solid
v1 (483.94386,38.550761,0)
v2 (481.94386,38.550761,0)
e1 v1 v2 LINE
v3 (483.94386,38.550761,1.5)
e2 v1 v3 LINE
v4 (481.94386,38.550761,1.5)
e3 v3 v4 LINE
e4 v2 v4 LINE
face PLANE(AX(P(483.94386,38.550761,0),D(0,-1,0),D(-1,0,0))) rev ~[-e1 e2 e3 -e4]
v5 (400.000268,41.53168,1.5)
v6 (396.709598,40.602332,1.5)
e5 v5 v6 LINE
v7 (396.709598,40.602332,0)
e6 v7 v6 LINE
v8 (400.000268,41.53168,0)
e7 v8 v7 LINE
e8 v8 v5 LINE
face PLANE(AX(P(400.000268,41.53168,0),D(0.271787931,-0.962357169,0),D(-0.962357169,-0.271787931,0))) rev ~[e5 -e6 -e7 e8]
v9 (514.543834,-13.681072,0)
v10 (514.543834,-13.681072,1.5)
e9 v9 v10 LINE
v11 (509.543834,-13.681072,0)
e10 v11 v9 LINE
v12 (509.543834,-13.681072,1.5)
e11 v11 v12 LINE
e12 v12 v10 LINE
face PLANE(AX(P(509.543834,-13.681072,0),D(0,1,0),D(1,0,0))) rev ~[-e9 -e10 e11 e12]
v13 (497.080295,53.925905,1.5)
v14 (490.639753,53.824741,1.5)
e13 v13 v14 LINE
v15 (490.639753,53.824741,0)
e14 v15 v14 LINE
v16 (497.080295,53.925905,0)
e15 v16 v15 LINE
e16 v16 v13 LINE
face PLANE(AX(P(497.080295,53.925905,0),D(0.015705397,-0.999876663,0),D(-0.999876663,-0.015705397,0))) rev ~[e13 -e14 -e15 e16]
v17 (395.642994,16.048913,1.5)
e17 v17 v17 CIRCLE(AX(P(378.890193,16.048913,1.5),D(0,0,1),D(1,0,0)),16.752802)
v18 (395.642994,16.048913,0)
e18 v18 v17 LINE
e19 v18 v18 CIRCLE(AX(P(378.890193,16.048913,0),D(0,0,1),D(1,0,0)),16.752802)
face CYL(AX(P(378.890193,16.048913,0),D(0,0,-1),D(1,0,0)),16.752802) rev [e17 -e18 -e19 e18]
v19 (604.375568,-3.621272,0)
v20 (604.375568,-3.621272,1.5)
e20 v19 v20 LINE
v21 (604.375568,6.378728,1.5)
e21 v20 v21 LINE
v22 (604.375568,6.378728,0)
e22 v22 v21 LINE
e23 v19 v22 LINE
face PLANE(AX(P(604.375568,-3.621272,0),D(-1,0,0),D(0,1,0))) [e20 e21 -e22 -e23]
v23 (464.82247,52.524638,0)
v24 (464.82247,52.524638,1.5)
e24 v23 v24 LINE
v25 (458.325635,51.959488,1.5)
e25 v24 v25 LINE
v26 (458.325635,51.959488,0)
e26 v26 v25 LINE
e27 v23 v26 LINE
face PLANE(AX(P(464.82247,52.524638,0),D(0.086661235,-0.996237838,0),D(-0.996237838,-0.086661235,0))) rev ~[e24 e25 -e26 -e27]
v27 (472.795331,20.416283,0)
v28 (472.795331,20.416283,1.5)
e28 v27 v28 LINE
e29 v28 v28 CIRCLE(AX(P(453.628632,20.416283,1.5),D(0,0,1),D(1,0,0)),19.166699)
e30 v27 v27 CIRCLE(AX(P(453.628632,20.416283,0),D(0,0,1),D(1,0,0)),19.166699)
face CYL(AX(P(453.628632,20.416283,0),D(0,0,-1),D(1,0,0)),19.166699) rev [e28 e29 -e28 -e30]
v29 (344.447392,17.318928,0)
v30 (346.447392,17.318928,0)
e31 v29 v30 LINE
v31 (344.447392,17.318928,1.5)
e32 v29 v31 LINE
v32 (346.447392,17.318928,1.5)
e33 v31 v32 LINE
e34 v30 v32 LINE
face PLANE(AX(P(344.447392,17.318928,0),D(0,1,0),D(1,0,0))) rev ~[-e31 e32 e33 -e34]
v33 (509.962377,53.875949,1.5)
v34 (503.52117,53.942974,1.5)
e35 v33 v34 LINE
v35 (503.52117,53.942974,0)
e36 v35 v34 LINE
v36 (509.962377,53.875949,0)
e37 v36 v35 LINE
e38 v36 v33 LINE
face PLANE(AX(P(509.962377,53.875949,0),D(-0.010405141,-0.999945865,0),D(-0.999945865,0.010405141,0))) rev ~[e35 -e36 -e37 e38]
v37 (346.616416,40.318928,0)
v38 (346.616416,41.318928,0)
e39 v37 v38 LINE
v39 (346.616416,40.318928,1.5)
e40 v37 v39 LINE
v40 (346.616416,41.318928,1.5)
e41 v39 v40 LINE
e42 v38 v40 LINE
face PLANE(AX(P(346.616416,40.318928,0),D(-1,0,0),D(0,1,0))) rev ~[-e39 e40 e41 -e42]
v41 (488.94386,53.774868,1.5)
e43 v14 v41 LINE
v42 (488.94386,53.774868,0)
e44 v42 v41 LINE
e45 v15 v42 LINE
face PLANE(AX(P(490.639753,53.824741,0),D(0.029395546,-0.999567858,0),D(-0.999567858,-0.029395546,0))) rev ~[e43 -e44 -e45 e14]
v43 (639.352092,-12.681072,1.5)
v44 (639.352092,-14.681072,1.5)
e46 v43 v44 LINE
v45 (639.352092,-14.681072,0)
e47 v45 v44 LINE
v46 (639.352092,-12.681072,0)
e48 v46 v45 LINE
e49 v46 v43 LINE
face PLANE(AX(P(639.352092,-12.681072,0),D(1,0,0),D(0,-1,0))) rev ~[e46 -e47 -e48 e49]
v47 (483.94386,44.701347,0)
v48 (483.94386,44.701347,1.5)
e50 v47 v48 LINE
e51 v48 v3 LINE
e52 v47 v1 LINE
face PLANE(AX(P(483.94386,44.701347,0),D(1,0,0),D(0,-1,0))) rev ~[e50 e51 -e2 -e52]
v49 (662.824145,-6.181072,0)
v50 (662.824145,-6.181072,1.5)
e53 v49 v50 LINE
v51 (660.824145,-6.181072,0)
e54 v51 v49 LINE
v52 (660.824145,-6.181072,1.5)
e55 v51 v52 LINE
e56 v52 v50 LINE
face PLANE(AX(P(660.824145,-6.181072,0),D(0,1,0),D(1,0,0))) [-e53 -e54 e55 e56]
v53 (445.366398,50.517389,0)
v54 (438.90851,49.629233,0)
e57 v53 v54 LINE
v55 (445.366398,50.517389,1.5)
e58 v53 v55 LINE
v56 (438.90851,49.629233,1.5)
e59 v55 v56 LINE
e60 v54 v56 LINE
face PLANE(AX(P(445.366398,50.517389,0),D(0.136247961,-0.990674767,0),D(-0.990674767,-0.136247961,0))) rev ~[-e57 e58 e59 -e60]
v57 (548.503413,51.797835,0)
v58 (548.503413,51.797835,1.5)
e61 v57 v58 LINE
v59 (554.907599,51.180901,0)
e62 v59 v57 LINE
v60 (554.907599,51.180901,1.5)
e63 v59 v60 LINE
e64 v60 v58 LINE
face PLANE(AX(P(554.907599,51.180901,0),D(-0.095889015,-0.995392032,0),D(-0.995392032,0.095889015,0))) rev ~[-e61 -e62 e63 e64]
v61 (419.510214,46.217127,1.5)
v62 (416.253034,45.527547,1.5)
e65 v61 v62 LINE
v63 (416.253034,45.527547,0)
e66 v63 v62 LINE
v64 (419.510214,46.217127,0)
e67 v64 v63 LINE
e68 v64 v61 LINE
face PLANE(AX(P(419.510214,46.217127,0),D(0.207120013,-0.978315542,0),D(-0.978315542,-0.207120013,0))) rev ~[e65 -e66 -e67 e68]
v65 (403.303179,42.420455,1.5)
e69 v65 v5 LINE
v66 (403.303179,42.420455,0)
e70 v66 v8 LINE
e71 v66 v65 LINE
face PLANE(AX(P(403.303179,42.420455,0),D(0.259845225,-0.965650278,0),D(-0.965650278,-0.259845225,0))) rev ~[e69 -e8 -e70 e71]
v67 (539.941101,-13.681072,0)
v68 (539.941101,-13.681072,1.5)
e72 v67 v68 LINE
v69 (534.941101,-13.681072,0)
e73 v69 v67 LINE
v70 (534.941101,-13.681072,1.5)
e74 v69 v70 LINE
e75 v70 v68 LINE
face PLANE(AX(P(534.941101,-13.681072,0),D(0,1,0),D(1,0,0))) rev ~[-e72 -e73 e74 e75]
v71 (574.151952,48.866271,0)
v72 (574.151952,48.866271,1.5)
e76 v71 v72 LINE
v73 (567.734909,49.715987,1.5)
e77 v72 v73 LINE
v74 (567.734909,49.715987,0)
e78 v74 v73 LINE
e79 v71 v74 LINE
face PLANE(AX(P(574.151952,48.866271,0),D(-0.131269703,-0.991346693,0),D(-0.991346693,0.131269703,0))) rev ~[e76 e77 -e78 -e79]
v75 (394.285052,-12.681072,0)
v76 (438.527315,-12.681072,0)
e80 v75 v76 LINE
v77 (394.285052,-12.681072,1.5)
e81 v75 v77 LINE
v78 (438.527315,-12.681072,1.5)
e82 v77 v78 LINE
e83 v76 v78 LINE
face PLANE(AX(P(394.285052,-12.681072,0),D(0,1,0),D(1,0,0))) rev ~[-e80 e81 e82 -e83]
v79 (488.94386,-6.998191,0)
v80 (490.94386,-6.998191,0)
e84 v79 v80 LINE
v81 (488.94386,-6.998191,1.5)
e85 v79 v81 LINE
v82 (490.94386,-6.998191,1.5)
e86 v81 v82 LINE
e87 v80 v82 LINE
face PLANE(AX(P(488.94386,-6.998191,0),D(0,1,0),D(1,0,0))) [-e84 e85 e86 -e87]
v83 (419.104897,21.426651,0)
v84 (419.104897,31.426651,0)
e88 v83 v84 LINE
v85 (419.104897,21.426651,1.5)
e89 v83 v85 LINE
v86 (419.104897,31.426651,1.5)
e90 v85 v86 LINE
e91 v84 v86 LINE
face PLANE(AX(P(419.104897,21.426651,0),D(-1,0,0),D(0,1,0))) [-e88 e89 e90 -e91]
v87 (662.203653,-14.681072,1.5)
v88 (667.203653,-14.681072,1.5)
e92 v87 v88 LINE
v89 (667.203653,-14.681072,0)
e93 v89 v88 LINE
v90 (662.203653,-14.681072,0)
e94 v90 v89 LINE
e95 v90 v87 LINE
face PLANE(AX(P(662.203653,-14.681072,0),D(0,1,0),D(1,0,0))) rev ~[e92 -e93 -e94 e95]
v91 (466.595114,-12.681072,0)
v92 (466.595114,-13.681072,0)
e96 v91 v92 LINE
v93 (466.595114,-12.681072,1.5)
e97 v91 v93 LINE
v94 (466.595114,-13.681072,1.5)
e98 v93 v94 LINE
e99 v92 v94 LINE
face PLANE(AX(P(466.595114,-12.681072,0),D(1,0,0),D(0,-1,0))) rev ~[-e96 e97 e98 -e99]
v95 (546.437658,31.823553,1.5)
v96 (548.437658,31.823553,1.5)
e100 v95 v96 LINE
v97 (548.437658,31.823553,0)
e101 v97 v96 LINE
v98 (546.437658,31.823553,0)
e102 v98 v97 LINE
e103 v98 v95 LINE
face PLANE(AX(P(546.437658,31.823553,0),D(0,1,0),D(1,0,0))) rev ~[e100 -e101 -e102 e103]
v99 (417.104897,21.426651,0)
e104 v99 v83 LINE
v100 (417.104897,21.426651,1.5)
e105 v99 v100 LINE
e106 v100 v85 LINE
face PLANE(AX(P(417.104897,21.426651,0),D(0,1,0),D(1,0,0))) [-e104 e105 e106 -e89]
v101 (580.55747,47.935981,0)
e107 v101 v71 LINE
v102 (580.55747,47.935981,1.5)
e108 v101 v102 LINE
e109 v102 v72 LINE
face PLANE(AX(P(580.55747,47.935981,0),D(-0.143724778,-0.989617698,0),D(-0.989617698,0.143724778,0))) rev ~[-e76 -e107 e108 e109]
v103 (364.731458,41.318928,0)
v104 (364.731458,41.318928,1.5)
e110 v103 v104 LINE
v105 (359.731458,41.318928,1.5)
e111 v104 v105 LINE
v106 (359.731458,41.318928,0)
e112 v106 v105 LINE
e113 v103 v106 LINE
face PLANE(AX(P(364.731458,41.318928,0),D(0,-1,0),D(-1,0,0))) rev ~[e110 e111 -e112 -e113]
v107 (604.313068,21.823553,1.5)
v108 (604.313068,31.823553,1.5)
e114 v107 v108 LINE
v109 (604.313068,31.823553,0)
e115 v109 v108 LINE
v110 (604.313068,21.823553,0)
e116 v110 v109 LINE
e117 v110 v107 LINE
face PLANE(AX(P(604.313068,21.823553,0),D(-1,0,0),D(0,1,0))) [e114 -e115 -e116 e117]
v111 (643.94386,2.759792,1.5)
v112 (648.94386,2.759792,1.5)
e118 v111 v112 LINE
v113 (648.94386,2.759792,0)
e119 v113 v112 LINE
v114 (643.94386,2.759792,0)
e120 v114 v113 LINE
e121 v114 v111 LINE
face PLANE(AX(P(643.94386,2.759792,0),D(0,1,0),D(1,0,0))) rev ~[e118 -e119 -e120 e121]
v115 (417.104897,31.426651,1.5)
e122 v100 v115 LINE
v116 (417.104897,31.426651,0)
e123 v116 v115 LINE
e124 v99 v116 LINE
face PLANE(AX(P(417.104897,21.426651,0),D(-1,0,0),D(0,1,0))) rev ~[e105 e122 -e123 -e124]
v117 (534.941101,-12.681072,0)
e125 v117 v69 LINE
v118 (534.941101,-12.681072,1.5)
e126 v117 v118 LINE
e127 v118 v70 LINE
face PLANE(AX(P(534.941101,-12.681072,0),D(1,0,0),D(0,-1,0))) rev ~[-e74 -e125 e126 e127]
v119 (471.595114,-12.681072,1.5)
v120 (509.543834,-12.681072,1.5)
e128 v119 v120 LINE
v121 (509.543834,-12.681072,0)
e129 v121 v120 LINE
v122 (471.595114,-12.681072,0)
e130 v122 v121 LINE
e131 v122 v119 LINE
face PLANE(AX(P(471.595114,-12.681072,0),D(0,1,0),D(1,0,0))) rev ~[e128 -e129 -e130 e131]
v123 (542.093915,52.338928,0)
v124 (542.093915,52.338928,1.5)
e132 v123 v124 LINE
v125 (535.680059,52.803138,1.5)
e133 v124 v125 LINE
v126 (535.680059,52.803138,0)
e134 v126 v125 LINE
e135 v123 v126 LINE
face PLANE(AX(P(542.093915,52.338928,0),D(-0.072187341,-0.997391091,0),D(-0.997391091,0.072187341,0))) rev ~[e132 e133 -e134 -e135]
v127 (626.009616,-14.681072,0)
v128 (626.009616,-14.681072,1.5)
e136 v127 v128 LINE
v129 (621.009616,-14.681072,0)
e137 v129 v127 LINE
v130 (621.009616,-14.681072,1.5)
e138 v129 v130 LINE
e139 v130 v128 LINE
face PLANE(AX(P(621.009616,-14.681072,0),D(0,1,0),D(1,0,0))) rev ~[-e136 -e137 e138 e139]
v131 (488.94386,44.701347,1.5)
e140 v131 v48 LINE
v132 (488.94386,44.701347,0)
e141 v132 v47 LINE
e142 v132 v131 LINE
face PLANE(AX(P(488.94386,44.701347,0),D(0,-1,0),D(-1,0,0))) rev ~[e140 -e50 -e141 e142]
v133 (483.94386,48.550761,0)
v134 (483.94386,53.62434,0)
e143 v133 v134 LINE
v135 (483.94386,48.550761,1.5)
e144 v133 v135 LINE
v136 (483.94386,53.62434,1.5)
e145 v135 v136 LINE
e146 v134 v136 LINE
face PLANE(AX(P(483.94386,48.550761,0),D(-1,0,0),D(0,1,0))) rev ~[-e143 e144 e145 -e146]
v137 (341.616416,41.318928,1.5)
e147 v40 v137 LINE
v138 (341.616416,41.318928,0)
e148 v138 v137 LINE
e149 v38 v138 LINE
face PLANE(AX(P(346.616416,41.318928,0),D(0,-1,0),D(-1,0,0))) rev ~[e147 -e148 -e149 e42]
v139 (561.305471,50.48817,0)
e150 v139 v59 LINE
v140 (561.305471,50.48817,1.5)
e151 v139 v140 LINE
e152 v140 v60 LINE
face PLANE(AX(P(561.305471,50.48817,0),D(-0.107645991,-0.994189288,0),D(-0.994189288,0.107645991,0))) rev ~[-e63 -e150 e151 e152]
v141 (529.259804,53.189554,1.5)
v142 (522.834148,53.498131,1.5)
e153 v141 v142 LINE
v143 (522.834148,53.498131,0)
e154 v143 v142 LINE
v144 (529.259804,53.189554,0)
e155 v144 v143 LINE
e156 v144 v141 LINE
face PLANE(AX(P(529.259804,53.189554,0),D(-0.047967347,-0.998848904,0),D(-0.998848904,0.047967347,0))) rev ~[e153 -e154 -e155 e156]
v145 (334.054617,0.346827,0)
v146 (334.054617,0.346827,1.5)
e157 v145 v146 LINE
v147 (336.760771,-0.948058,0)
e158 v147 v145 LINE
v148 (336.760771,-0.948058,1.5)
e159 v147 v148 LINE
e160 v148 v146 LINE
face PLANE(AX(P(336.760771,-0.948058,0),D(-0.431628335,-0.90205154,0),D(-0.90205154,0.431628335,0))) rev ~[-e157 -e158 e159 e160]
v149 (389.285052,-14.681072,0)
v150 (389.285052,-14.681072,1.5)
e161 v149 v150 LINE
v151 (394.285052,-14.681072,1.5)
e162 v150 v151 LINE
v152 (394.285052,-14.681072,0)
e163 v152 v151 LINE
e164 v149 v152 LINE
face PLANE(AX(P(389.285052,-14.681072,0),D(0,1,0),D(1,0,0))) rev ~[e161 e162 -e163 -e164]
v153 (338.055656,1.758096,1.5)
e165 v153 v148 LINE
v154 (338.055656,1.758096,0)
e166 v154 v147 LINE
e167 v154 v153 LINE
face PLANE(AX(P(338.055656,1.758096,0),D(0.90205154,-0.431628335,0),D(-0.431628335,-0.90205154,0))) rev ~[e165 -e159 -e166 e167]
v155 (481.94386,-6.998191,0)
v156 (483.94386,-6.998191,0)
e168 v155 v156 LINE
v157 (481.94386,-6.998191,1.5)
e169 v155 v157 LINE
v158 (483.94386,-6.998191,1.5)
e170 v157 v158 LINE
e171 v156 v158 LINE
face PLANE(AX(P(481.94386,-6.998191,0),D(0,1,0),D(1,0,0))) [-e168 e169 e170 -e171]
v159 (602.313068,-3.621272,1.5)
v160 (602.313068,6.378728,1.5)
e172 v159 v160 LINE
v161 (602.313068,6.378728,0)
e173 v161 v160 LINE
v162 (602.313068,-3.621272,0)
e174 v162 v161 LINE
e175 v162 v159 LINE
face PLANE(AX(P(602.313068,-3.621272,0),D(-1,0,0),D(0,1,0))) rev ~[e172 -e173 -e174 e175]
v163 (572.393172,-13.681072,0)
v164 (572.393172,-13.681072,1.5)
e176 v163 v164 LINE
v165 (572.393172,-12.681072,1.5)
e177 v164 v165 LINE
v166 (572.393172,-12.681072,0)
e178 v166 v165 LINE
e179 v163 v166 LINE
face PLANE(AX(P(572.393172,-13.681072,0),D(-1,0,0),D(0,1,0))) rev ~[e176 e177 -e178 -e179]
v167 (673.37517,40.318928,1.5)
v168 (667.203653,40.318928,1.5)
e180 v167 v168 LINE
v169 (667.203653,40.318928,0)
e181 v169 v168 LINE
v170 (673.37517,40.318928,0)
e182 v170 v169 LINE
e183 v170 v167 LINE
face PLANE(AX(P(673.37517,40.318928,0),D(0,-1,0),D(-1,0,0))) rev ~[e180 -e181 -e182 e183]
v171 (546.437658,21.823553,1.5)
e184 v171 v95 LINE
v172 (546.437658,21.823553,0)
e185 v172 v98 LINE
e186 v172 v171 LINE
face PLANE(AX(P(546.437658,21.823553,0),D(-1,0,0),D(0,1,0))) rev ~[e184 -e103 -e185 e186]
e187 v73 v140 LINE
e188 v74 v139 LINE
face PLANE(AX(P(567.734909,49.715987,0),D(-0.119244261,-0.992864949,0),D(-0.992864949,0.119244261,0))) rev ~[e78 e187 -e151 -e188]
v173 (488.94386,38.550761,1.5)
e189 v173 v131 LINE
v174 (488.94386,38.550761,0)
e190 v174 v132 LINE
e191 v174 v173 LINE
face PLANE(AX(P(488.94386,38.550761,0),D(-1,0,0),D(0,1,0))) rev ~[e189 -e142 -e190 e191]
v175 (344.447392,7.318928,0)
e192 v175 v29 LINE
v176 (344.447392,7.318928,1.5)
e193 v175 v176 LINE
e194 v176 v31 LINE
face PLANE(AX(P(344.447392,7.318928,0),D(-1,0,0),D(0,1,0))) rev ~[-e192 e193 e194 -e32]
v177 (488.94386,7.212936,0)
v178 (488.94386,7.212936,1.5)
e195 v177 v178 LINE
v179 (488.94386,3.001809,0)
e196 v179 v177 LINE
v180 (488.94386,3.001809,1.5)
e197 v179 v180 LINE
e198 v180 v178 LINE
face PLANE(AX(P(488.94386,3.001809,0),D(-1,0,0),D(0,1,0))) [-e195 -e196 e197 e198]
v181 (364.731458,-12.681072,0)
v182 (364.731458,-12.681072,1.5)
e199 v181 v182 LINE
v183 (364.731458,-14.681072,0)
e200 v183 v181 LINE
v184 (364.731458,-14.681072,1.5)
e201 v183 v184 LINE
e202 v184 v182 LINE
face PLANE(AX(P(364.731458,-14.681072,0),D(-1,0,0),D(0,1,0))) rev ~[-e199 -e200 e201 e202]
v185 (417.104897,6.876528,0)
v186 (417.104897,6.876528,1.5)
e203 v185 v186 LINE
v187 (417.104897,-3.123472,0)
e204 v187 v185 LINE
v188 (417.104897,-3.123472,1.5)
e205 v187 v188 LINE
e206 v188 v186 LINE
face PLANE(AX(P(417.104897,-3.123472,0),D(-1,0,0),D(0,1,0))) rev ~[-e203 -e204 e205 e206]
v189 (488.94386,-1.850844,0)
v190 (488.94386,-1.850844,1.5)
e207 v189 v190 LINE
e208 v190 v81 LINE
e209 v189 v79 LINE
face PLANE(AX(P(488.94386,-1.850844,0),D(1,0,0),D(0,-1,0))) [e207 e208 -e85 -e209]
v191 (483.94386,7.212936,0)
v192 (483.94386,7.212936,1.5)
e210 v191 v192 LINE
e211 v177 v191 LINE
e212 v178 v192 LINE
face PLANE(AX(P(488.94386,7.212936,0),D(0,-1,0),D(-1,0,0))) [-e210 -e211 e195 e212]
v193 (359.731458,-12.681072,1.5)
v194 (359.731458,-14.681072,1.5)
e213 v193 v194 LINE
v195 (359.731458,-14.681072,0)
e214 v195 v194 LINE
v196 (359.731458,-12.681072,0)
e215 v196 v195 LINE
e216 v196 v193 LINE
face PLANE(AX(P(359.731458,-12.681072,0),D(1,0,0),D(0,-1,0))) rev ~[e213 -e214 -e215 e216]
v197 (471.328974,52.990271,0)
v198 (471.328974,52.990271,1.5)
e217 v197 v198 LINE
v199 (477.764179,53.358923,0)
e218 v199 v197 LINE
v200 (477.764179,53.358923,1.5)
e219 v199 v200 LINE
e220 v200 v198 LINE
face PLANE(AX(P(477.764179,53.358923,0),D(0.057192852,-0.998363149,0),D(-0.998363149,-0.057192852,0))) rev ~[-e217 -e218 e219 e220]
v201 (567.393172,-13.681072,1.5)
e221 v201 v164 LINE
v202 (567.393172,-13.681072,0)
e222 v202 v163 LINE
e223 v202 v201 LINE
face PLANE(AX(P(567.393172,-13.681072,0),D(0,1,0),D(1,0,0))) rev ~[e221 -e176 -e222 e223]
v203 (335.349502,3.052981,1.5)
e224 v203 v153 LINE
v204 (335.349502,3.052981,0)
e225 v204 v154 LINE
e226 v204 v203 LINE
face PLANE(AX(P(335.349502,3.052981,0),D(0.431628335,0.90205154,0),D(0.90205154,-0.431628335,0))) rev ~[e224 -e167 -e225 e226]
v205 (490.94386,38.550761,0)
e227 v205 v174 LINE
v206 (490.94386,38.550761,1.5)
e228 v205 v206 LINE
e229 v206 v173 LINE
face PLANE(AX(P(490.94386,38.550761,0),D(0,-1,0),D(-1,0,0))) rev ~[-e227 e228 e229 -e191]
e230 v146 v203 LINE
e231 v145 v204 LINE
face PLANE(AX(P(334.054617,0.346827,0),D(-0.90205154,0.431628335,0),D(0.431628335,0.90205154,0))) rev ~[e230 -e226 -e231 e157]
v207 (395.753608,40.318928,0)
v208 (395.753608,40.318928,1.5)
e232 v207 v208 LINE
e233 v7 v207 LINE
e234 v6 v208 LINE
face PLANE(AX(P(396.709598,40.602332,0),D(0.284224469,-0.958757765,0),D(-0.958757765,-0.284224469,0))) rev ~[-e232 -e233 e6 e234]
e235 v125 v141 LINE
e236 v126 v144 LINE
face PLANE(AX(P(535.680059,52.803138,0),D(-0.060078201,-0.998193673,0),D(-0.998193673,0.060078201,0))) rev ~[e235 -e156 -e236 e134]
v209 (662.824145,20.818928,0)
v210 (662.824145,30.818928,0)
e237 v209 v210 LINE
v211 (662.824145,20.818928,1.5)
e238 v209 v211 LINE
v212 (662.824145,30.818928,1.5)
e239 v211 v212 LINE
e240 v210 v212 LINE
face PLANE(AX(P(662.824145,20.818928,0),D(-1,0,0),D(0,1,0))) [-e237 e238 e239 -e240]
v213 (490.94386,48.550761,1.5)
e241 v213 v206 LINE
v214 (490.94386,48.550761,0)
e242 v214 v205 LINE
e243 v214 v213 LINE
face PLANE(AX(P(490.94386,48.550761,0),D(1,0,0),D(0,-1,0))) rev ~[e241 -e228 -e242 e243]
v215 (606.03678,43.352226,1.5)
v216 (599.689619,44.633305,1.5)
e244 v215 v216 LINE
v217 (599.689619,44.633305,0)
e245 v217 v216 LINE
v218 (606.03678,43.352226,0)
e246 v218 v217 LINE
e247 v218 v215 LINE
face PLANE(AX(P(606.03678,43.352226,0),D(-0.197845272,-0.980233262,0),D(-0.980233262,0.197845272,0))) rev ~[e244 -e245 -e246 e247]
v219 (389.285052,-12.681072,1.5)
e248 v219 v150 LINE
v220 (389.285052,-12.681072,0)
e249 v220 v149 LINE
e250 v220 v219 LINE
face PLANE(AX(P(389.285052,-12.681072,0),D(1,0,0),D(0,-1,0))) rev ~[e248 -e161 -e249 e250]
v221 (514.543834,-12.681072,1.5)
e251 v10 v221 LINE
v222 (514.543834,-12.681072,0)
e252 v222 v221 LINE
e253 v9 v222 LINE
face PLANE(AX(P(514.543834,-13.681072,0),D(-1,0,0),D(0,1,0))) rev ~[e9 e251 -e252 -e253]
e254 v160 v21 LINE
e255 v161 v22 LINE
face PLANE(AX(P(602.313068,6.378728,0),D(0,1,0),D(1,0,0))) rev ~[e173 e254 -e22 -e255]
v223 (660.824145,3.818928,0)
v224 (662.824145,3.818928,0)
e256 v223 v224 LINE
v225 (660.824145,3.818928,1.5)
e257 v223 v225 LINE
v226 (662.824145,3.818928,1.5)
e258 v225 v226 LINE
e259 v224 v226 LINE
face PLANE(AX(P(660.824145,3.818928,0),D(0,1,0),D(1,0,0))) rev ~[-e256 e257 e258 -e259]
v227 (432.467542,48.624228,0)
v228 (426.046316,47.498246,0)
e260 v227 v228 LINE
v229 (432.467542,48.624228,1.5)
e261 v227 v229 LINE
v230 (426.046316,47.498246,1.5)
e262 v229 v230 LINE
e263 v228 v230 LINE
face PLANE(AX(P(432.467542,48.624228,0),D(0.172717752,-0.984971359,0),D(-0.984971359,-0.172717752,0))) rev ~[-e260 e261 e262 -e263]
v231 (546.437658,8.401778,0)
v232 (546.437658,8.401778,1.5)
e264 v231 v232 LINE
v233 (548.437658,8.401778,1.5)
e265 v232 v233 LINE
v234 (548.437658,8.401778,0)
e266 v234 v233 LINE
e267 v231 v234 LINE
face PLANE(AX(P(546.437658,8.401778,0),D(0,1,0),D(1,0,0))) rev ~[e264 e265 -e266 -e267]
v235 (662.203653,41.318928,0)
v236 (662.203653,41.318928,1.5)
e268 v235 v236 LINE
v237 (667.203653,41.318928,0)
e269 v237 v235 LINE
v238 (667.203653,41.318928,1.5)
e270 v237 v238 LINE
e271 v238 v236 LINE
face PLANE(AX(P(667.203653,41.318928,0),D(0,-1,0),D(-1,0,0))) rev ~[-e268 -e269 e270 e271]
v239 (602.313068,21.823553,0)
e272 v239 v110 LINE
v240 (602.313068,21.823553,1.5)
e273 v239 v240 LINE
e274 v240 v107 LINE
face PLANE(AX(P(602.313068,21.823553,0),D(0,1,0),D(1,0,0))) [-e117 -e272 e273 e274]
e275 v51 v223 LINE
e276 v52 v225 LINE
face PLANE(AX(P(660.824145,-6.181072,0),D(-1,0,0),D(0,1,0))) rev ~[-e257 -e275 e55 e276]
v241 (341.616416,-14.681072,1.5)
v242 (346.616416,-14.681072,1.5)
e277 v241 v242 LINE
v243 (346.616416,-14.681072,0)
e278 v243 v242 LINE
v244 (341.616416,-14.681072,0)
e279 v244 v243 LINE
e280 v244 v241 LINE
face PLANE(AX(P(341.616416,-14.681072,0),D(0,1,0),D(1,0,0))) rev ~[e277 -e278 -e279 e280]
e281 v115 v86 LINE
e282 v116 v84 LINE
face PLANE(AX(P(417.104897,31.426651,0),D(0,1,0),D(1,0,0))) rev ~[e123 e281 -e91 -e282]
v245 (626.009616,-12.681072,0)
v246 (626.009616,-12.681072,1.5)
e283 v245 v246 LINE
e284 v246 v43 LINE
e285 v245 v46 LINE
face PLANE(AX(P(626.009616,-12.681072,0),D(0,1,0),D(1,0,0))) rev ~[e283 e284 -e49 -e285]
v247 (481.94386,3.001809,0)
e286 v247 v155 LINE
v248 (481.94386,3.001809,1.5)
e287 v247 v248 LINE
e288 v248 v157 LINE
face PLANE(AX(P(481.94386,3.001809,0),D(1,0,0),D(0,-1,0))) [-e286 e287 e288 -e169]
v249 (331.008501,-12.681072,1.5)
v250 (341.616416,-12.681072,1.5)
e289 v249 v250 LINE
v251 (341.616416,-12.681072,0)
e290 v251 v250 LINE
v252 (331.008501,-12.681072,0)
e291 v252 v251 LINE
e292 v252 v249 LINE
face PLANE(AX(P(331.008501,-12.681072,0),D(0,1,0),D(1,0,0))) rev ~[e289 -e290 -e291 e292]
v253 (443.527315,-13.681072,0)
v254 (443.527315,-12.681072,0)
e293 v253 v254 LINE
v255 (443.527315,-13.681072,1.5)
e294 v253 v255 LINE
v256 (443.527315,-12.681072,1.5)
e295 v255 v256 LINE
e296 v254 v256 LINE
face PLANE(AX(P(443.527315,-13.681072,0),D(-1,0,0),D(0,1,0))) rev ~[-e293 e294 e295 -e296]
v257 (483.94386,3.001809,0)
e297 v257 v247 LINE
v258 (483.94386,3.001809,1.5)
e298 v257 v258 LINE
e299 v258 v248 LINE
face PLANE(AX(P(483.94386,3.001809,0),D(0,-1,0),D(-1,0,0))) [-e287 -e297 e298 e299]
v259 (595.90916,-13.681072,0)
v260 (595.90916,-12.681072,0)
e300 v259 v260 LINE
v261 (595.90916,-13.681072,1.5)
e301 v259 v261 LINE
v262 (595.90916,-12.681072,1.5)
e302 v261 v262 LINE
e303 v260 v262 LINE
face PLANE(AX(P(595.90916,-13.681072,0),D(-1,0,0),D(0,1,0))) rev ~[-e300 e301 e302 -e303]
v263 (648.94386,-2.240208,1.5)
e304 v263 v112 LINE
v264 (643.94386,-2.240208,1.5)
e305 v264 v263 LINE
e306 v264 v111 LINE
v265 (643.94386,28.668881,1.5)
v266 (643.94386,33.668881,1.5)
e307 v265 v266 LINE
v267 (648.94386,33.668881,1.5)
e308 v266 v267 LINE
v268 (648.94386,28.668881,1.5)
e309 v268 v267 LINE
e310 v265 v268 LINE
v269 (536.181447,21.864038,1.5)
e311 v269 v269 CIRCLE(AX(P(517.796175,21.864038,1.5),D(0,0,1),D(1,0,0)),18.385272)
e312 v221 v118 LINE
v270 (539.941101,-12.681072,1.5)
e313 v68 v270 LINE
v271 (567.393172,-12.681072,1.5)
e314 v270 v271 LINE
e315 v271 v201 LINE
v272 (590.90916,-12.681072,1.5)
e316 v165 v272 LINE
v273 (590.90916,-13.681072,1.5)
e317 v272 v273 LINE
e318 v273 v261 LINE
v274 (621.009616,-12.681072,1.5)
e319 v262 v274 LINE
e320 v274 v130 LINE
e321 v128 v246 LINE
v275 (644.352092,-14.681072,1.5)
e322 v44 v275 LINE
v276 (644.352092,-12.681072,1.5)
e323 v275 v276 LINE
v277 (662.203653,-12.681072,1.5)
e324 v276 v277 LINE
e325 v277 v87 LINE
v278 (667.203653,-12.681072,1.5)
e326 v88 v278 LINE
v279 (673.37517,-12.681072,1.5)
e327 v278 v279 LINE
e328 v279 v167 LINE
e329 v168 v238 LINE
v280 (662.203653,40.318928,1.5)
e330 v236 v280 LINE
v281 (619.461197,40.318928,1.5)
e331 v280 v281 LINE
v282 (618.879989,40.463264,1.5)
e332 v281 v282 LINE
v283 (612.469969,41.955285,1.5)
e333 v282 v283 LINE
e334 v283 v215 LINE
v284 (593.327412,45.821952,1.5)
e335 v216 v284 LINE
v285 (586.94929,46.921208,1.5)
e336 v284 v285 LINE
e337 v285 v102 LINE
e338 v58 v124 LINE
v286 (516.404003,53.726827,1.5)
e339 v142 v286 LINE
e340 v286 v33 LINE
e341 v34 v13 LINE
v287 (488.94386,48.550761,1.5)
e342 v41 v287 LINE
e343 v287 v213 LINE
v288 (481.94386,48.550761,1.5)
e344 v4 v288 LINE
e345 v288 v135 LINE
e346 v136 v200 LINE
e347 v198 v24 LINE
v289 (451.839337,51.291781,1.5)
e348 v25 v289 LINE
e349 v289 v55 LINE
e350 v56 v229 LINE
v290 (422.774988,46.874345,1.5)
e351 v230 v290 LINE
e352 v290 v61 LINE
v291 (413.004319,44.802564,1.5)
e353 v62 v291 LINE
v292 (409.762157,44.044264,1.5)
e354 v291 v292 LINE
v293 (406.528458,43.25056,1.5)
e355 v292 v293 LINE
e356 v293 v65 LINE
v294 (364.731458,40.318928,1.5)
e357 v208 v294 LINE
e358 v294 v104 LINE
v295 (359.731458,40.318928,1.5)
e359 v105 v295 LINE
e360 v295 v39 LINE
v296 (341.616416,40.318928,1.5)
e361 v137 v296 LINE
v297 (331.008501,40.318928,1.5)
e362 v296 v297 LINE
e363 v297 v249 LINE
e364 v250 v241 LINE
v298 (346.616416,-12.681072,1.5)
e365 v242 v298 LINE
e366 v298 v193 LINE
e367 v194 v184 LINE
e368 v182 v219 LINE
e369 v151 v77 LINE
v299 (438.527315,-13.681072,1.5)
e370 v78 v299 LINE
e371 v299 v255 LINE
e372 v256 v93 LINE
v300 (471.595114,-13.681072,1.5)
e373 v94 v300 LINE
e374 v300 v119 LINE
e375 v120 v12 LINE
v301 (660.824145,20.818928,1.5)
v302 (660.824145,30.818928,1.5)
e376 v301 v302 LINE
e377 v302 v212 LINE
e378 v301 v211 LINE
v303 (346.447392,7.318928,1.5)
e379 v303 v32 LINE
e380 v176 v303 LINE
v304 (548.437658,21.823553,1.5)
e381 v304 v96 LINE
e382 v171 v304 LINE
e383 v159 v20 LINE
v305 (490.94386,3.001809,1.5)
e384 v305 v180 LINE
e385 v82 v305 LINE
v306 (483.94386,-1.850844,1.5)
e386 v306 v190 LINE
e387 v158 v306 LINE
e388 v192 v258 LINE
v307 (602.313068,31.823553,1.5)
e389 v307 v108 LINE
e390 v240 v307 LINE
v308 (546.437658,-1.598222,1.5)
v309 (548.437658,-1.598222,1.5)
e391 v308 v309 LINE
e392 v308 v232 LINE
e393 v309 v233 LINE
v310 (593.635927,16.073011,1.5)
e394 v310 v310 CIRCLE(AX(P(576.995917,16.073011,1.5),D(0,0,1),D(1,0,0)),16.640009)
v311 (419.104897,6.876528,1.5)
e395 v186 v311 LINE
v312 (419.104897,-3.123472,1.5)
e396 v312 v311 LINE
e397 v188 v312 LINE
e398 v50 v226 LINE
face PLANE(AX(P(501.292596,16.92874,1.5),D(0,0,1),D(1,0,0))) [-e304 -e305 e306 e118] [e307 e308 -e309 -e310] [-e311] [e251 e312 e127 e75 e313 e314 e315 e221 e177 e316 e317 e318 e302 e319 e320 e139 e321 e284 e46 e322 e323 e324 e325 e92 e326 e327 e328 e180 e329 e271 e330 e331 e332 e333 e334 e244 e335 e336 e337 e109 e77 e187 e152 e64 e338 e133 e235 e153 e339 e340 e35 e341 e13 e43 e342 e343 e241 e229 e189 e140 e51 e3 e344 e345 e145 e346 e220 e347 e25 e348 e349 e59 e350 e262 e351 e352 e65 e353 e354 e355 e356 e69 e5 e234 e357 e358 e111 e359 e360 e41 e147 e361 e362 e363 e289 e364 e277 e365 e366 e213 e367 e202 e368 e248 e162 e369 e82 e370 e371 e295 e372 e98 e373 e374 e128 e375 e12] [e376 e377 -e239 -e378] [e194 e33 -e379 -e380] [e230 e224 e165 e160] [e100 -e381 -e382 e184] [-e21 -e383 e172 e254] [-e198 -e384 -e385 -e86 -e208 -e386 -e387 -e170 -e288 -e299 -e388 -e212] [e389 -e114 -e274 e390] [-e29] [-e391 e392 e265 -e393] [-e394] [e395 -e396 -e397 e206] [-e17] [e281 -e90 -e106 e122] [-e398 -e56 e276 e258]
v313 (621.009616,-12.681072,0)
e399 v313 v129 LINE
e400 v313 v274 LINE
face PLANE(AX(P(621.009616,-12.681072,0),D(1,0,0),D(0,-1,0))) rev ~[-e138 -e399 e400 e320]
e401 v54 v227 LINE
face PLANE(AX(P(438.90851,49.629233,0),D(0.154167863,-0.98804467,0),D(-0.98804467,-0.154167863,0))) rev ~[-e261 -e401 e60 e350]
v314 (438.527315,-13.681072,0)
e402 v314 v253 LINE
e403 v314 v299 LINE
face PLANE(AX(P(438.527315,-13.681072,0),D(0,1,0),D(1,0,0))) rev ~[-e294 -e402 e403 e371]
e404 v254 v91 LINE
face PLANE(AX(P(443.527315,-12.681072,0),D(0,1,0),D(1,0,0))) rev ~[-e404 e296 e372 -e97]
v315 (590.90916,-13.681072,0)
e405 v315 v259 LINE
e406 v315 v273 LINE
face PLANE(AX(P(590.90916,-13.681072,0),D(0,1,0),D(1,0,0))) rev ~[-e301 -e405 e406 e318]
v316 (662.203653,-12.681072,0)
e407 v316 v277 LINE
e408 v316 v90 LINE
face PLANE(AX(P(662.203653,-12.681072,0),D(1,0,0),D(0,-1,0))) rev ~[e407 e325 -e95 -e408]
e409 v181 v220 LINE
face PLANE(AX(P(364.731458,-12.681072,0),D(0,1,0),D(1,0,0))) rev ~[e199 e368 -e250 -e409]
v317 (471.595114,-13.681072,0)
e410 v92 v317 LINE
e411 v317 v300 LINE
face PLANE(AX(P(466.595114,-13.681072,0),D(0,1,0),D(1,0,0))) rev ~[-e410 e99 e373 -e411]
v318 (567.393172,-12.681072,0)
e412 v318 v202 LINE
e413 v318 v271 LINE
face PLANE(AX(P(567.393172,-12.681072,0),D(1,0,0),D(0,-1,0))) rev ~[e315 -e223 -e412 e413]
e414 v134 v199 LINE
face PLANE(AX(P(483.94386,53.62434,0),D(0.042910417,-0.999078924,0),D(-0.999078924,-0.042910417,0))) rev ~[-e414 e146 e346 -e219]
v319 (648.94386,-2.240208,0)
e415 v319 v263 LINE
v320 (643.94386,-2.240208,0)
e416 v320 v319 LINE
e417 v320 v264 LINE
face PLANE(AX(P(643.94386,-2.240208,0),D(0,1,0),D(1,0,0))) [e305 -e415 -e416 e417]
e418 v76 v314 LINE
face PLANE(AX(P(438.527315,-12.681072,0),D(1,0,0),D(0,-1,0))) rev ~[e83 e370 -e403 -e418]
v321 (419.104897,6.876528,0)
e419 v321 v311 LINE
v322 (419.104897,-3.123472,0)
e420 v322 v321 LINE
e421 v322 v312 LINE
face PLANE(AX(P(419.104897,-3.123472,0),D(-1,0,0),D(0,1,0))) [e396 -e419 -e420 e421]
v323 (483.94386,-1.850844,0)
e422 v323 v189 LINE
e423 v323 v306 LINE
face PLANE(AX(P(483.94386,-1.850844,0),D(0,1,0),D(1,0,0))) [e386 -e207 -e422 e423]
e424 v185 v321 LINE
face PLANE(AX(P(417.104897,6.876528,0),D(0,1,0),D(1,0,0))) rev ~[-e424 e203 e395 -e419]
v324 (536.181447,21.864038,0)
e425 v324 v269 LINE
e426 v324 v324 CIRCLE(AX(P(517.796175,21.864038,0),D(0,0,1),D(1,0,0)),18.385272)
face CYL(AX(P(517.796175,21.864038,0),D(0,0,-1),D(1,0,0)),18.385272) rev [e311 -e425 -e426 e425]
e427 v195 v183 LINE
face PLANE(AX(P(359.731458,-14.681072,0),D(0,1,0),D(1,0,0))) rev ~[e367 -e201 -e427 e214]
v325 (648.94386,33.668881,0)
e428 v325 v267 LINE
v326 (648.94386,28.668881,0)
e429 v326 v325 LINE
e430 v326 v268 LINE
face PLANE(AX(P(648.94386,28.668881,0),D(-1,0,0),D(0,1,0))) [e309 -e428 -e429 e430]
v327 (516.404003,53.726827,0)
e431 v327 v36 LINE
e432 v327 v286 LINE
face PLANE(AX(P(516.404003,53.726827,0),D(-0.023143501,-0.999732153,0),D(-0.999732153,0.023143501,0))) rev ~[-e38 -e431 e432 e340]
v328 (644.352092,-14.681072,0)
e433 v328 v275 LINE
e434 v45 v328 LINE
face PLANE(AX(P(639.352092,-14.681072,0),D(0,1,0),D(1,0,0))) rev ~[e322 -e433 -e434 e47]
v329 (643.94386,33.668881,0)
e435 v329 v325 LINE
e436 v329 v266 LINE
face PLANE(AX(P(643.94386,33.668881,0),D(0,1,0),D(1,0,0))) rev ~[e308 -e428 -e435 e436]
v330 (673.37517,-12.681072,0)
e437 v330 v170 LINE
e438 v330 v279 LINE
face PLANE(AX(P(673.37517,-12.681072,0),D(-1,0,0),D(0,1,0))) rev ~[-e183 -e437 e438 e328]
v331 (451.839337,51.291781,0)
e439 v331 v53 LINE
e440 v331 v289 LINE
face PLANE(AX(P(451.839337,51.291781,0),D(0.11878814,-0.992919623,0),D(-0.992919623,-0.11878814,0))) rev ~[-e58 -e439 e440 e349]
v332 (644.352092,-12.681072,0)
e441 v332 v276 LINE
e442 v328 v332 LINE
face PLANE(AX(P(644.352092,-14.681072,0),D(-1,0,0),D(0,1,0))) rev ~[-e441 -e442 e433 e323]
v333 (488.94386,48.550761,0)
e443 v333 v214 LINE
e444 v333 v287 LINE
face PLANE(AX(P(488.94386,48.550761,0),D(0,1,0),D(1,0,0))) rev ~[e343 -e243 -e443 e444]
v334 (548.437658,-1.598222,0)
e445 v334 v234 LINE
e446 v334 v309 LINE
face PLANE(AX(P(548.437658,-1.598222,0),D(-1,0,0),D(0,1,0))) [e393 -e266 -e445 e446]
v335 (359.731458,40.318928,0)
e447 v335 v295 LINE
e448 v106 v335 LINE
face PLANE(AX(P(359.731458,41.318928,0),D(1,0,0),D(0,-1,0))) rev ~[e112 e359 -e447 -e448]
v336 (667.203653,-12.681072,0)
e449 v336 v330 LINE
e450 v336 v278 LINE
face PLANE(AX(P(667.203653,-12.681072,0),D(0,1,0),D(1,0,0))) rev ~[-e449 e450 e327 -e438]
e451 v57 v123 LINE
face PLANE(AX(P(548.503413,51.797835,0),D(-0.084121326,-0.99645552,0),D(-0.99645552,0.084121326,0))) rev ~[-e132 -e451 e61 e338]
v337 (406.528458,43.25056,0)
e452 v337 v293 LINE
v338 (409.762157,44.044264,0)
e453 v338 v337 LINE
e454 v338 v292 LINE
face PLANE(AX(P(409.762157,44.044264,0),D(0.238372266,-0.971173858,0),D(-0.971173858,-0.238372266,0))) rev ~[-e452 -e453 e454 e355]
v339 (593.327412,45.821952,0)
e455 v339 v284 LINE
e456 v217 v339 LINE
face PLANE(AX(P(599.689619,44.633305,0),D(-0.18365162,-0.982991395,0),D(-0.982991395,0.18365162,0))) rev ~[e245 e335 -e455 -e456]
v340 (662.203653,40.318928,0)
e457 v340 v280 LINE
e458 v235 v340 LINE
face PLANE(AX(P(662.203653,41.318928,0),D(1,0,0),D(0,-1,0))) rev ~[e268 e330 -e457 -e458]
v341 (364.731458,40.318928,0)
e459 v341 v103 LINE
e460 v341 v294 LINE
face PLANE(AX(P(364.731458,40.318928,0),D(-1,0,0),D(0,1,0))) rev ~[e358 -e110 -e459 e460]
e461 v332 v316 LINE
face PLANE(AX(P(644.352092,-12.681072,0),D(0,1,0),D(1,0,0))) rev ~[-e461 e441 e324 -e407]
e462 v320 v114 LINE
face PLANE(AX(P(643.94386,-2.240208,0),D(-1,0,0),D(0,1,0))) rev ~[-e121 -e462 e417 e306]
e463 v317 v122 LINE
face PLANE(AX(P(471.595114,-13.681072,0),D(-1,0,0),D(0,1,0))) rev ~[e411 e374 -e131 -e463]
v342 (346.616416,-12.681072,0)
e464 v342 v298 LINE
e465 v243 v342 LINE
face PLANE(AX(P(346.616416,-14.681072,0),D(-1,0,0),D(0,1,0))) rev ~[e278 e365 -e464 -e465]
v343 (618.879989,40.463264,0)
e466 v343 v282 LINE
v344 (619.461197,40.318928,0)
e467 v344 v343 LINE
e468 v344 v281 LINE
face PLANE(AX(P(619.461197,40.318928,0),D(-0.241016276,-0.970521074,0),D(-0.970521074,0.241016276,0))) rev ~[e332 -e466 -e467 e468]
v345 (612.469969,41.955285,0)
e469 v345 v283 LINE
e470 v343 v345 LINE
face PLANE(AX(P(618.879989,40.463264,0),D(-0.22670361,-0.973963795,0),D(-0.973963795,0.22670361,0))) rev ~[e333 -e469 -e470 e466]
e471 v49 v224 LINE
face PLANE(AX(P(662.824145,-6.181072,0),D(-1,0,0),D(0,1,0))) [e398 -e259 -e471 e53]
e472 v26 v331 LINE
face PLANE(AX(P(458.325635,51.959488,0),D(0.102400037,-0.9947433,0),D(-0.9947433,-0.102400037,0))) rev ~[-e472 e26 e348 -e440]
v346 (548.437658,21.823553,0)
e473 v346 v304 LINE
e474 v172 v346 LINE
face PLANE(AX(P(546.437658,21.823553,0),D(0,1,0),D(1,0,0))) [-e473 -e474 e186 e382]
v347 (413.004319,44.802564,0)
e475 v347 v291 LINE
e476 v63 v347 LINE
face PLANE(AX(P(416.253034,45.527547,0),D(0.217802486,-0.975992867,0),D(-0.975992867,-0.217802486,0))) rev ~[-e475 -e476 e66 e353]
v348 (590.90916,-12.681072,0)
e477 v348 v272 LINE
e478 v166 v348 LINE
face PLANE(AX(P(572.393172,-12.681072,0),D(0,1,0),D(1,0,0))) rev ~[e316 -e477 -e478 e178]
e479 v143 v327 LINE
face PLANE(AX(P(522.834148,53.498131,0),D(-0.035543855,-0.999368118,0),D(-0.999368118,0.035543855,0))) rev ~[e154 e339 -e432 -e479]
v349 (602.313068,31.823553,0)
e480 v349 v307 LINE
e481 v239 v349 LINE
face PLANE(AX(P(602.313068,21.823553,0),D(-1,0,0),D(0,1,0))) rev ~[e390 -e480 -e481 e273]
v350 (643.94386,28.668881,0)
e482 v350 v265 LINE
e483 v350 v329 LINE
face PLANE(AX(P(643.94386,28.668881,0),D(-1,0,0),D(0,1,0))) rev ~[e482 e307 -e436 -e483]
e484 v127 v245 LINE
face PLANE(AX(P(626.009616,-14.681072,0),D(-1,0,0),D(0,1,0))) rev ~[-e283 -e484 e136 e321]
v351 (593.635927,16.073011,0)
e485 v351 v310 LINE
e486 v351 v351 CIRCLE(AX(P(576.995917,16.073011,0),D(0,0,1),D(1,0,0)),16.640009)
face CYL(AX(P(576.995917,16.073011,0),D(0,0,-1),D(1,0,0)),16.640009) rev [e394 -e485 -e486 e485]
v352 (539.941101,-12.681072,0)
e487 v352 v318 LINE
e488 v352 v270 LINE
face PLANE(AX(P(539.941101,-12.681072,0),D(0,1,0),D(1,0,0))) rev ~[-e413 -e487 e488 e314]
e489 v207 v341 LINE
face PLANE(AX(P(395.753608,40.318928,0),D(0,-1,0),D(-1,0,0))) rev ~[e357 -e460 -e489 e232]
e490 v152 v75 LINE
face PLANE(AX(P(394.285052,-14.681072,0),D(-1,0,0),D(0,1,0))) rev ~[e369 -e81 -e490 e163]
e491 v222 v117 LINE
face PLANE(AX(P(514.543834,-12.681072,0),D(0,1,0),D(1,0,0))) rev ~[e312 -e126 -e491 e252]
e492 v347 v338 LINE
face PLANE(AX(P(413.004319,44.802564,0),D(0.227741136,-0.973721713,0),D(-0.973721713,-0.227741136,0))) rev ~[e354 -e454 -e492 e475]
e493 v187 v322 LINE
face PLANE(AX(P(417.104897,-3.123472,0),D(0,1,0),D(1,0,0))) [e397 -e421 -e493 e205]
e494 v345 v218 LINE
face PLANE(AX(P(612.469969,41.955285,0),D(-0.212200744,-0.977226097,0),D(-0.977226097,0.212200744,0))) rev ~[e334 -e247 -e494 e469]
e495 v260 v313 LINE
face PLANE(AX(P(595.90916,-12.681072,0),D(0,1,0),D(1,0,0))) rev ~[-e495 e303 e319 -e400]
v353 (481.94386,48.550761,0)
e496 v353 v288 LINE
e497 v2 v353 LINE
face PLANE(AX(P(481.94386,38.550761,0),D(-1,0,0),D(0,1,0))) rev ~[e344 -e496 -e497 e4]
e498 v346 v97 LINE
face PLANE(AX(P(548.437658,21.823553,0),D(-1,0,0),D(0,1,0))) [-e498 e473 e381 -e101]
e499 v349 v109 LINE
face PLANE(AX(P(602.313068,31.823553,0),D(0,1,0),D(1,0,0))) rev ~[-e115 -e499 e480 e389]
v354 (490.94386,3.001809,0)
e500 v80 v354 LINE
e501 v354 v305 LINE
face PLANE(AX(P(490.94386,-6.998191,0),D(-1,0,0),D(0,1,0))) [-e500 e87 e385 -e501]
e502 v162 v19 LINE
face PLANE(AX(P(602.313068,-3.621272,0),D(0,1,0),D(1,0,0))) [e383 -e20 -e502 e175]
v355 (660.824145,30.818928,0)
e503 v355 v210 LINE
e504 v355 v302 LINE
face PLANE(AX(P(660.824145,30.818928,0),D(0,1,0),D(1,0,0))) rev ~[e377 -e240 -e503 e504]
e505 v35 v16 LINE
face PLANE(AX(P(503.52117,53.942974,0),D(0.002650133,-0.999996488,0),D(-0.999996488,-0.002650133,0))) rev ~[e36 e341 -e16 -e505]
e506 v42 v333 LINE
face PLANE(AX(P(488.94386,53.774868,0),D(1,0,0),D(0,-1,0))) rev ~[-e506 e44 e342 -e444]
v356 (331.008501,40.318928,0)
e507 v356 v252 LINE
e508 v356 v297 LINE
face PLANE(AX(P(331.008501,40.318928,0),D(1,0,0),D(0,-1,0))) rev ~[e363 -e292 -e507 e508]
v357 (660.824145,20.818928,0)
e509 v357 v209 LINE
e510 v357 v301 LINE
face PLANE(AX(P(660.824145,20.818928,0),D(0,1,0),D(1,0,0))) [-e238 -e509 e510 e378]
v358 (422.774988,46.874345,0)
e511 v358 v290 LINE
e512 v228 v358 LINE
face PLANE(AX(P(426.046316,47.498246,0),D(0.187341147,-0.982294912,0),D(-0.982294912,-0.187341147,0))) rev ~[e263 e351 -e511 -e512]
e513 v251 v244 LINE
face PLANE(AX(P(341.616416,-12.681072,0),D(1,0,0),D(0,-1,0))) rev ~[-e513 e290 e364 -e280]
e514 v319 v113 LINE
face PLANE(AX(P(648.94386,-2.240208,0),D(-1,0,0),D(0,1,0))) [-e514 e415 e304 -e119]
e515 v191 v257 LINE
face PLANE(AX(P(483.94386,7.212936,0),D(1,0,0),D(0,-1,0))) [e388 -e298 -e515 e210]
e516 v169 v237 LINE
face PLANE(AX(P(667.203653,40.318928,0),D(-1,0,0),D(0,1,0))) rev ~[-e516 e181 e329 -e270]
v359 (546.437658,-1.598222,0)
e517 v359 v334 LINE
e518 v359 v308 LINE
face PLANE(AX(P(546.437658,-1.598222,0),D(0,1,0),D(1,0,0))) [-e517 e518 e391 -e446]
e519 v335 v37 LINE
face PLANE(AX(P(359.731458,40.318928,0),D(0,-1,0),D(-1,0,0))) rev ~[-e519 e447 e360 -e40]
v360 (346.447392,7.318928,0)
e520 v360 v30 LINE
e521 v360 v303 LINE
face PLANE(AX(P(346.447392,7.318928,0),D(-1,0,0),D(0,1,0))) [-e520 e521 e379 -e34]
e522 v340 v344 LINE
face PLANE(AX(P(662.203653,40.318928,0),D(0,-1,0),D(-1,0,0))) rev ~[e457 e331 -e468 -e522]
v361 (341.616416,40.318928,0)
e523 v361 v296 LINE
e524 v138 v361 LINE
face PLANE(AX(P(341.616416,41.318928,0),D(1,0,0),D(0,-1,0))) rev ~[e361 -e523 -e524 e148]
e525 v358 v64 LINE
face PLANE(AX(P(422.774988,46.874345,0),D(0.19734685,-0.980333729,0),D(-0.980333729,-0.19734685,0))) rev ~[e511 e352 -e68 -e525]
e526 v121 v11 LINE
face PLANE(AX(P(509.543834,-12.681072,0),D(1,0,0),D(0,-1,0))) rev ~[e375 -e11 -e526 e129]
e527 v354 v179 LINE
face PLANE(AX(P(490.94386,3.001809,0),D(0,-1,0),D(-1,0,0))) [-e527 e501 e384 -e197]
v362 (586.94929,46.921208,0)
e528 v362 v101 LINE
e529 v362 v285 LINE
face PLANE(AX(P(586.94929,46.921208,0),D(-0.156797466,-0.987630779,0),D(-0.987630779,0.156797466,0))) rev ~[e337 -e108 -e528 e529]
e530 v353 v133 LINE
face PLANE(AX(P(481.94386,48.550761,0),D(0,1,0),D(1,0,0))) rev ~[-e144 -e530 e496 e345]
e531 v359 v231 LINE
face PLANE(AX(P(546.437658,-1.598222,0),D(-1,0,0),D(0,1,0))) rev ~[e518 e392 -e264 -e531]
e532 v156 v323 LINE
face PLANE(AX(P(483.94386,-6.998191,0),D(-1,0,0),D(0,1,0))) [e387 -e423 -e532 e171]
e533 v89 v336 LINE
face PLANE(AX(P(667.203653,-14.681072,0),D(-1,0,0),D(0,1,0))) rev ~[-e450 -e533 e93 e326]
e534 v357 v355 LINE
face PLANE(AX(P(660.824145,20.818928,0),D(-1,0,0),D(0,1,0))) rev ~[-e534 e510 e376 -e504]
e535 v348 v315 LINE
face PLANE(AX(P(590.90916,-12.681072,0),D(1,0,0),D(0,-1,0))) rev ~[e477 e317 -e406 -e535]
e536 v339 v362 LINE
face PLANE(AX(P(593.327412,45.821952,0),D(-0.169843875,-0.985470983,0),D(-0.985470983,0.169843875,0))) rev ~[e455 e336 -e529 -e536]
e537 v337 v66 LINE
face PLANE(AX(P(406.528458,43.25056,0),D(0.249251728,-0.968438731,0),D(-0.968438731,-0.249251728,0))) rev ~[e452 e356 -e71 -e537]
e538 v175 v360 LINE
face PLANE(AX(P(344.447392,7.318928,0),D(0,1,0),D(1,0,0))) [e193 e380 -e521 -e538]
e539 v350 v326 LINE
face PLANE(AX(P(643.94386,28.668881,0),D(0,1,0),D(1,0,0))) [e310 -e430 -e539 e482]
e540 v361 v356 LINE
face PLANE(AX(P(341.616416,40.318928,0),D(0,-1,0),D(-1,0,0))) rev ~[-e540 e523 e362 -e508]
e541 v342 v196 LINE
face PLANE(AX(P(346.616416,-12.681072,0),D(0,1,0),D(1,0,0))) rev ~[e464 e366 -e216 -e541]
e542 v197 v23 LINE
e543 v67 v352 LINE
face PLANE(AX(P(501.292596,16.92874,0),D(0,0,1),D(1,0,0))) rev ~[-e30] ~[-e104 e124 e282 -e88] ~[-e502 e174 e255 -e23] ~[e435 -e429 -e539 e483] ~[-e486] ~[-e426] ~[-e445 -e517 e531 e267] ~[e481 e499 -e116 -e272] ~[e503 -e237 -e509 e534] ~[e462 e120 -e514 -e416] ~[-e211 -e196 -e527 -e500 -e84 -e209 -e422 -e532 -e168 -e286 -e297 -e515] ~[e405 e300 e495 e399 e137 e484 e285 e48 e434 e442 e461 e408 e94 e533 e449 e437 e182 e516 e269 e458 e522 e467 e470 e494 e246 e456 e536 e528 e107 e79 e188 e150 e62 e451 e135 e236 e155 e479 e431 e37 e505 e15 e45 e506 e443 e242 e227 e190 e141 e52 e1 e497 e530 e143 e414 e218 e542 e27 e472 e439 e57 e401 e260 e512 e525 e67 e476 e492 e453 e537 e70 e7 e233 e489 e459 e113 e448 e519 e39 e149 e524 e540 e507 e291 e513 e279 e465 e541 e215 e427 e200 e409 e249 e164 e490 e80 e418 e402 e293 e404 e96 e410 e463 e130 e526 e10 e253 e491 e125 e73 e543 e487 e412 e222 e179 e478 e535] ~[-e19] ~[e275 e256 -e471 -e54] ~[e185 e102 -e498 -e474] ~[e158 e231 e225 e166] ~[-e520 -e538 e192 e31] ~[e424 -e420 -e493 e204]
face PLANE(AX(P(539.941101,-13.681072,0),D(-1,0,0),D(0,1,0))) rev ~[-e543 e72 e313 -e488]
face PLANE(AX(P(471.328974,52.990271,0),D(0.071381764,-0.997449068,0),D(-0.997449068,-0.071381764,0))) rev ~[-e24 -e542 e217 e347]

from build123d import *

# Parameters (mm, degrees)
MODEL_R         = 19.166698656
MODEL_R_2       = 18.385271544
MODEL_R_3       = 16.640009412
MODEL_R_4       = 16.752801617
MODEL_W         = 2
MODEL_H         = 10
MODEL_W_2       = 2.0625
MODEL_W_3       = 5
MODEL_H_2       = 5
EXTRUDE_1_DEPTH = 1.5


with BuildPart() as part:
    # Model → 凸台-拉伸1 (new body)
    with BuildSketch(Plane.XY):
        Polygon((331.008501053, -12.681071835), (341.616416104, -12.681071835), (341.616416104, -14.681071835), (346.616416104, -14.681071835), (346.616416104, -12.681071835), (359.731458438, -12.681071835), (359.731458438, -14.681071835), (364.731458438, -14.681071835), (364.731458438, -12.681071835), (389.285051542, -12.681071835), (389.285051542, -14.681071835), (394.285051542, -14.681071835), (394.285051542, -12.681071835), (438.527315214, -12.681071835), (438.527315214, -13.681071835), (443.527315214, -13.681071835), (443.527315214, -12.681071835), (466.595113664, -12.681071835), (466.595113664, -13.681071835), (471.595113664, -13.681071835), (471.595113664, -12.681071835), (509.543834164, -12.681071835), (509.543834164, -13.681071835), (514.543834164, -13.681071835), (514.543834164, -12.681071835), (534.941100783, -12.681071835), (534.941100783, -13.681071835), (539.941100783, -13.681071835), (539.941100783, -12.681071835), (567.393171936, -12.681071835), (567.393171936, -13.681071835), (572.393171936, -13.681071835), (572.393171936, -12.681071835), (590.909160047, -12.681071835), (590.909160047, -13.681071835), (595.909160047, -13.681071835), (595.909160047, -12.681071835), (621.009616189, -12.681071835), (621.009616189, -14.681071835), (626.009616189, -14.681071835), (626.009616189, -12.681071835), (639.352091775, -12.681071835), (639.352091775, -14.681071835), (644.352091775, -14.681071835), (644.352091775, -12.681071835), (662.203652971, -12.681071835), (662.203652971, -14.681071835), (667.203652971, -14.681071835), (667.203652971, -12.681071835), (673.375169904, -12.681071835), (673.375169904, 40.318928165), (667.203652971, 40.318928165), (667.203652971, 41.318928165), (662.203652971, 41.318928165), (662.203652971, 40.318928165), (619.461197001, 40.318928165), (618.879989346, 40.463263521), (612.469969479, 41.955284735), (606.036780234, 43.352226087), (599.689619006, 44.633304674), (593.327411645, 45.82195159), (586.94928996, 46.921207599), (580.557470145, 47.935980702), (574.151952199, 48.866270901), (567.734908698, 49.715987149), (561.30547145, 50.48817021), (554.907598578, 51.180900831), (548.503413488, 51.797834645), (542.093915228, 52.338928034), (535.680059227, 52.803138329), (529.259803769, 53.18955372), (522.834147903, 53.498130589), (516.404003437, 53.72682722), (509.962377034, 53.875948948), (503.521170035, 53.942974245), (497.0802952, 53.925905013), (490.639752529, 53.824741253), (488.943859674, 53.774868005), (488.943859674, 48.550761193), (490.943859674, 48.550761193), (490.943859674, 38.550761193), (488.943859674, 38.550761193), (488.943859674, 44.701347368), (483.943859674, 44.701347368), (483.943859674, 38.550761193), (481.943859674, 38.550761193), (481.943859674, 48.550761193), (483.943859674, 48.550761193), (483.943859674, 53.624339658), (477.764179108, 53.358922521), (471.328973881, 52.990271357), (464.822470484, 52.524637869), (458.325635443, 51.959487936), (451.839336947, 51.291780793), (445.366397665, 50.51738939), (438.908510356, 49.62923315), (432.467542259, 48.62422769), (426.046316041, 47.498245959), (422.774988305, 46.874345456), (419.510213514, 46.217127406), (416.253034336, 45.527547239), (413.004318963, 44.80256419), (409.762156535, 44.044263594), (406.528457911, 43.250560117), (403.303179471, 42.420454711), (400.000268013, 41.531679768), (396.709598454, 40.602332225), (395.753608128, 40.318928165), (364.731458438, 40.318928165), (364.731458438, 41.318928165), (359.731458438, 41.318928165), (359.731458438, 40.318928165), (346.616416104, 40.318928165), (346.616416104, 41.318928165), (341.616416104, 41.318928165), (341.616416104, 40.318928165), (331.008501053, 40.318928165), align=None)
        with Locations((453.628632303, 20.416282665)):
            Circle(MODEL_R, mode=Mode.SUBTRACT)
        with Locations((517.796175226, 21.864038252)):
            Circle(MODEL_R_2, mode=Mode.SUBTRACT)
        with Locations((576.99591729, 16.073011283)):
            Circle(MODEL_R_3, mode=Mode.SUBTRACT)
        with Locations((378.89019282, 16.048912753)):
            Circle(MODEL_R_4, mode=Mode.SUBTRACT)
        Polygon((334.054616565, 0.346826696), (335.34950157, 3.052981316), (338.055656189, 1.758096311), (336.760771185, -0.948058308), align=None, mode=Mode.SUBTRACT)
        Polygon((488.943859674, 7.212935553), (483.943859674, 7.212935553), (483.943859674, 3.001809248), (481.943859674, 3.001809248), (481.943859674, -6.998190752), (483.943859674, -6.998190752), (483.943859674, -1.850844057), (488.943859674, -1.850844057), (488.943859674, -6.998190752), (490.943859674, -6.998190752), (490.943859674, 3.001809248), (488.943859674, 3.001809248), align=None, mode=Mode.SUBTRACT)
        with Locations((418.104897365, 1.876528165)):
            Rectangle(MODEL_W, MODEL_H, mode=Mode.SUBTRACT)
        with Locations((547.437658193, 3.401778165)):
            Rectangle(MODEL_W, MODEL_H, mode=Mode.SUBTRACT)
        with Locations((603.344317775, 1.378728165)):
            Rectangle(MODEL_W_2, MODEL_H, mode=Mode.SUBTRACT)
        with Locations((345.447391947, 12.318928165)):
            Rectangle(MODEL_W, MODEL_H, mode=Mode.SUBTRACT)
        with Locations((418.104897365, 26.426650996)):
            Rectangle(MODEL_W, MODEL_H, mode=Mode.SUBTRACT)
        with Locations((547.437658193, 26.823552615)):
            Rectangle(MODEL_W, MODEL_H, mode=Mode.SUBTRACT)
        with Locations((603.313067775, 26.823552615)):
            Rectangle(MODEL_W, MODEL_H, mode=Mode.SUBTRACT)
        with Locations((661.824145294, 25.818928165)):
            Rectangle(MODEL_W, MODEL_H, mode=Mode.SUBTRACT)
        with Locations((661.824145294, -1.181071835)):
            Rectangle(MODEL_W, MODEL_H, mode=Mode.SUBTRACT)
        with Locations((646.443859674, 31.16888081)):
            Rectangle(MODEL_W_3, MODEL_H_2, mode=Mode.SUBTRACT)
        with Locations((646.443859674, 0.259792132)):
            Rectangle(MODEL_W_3, MODEL_H_2, mode=Mode.SUBTRACT)
    extrude(amount=EXTRUDE_1_DEPTH)


solid = part.part
